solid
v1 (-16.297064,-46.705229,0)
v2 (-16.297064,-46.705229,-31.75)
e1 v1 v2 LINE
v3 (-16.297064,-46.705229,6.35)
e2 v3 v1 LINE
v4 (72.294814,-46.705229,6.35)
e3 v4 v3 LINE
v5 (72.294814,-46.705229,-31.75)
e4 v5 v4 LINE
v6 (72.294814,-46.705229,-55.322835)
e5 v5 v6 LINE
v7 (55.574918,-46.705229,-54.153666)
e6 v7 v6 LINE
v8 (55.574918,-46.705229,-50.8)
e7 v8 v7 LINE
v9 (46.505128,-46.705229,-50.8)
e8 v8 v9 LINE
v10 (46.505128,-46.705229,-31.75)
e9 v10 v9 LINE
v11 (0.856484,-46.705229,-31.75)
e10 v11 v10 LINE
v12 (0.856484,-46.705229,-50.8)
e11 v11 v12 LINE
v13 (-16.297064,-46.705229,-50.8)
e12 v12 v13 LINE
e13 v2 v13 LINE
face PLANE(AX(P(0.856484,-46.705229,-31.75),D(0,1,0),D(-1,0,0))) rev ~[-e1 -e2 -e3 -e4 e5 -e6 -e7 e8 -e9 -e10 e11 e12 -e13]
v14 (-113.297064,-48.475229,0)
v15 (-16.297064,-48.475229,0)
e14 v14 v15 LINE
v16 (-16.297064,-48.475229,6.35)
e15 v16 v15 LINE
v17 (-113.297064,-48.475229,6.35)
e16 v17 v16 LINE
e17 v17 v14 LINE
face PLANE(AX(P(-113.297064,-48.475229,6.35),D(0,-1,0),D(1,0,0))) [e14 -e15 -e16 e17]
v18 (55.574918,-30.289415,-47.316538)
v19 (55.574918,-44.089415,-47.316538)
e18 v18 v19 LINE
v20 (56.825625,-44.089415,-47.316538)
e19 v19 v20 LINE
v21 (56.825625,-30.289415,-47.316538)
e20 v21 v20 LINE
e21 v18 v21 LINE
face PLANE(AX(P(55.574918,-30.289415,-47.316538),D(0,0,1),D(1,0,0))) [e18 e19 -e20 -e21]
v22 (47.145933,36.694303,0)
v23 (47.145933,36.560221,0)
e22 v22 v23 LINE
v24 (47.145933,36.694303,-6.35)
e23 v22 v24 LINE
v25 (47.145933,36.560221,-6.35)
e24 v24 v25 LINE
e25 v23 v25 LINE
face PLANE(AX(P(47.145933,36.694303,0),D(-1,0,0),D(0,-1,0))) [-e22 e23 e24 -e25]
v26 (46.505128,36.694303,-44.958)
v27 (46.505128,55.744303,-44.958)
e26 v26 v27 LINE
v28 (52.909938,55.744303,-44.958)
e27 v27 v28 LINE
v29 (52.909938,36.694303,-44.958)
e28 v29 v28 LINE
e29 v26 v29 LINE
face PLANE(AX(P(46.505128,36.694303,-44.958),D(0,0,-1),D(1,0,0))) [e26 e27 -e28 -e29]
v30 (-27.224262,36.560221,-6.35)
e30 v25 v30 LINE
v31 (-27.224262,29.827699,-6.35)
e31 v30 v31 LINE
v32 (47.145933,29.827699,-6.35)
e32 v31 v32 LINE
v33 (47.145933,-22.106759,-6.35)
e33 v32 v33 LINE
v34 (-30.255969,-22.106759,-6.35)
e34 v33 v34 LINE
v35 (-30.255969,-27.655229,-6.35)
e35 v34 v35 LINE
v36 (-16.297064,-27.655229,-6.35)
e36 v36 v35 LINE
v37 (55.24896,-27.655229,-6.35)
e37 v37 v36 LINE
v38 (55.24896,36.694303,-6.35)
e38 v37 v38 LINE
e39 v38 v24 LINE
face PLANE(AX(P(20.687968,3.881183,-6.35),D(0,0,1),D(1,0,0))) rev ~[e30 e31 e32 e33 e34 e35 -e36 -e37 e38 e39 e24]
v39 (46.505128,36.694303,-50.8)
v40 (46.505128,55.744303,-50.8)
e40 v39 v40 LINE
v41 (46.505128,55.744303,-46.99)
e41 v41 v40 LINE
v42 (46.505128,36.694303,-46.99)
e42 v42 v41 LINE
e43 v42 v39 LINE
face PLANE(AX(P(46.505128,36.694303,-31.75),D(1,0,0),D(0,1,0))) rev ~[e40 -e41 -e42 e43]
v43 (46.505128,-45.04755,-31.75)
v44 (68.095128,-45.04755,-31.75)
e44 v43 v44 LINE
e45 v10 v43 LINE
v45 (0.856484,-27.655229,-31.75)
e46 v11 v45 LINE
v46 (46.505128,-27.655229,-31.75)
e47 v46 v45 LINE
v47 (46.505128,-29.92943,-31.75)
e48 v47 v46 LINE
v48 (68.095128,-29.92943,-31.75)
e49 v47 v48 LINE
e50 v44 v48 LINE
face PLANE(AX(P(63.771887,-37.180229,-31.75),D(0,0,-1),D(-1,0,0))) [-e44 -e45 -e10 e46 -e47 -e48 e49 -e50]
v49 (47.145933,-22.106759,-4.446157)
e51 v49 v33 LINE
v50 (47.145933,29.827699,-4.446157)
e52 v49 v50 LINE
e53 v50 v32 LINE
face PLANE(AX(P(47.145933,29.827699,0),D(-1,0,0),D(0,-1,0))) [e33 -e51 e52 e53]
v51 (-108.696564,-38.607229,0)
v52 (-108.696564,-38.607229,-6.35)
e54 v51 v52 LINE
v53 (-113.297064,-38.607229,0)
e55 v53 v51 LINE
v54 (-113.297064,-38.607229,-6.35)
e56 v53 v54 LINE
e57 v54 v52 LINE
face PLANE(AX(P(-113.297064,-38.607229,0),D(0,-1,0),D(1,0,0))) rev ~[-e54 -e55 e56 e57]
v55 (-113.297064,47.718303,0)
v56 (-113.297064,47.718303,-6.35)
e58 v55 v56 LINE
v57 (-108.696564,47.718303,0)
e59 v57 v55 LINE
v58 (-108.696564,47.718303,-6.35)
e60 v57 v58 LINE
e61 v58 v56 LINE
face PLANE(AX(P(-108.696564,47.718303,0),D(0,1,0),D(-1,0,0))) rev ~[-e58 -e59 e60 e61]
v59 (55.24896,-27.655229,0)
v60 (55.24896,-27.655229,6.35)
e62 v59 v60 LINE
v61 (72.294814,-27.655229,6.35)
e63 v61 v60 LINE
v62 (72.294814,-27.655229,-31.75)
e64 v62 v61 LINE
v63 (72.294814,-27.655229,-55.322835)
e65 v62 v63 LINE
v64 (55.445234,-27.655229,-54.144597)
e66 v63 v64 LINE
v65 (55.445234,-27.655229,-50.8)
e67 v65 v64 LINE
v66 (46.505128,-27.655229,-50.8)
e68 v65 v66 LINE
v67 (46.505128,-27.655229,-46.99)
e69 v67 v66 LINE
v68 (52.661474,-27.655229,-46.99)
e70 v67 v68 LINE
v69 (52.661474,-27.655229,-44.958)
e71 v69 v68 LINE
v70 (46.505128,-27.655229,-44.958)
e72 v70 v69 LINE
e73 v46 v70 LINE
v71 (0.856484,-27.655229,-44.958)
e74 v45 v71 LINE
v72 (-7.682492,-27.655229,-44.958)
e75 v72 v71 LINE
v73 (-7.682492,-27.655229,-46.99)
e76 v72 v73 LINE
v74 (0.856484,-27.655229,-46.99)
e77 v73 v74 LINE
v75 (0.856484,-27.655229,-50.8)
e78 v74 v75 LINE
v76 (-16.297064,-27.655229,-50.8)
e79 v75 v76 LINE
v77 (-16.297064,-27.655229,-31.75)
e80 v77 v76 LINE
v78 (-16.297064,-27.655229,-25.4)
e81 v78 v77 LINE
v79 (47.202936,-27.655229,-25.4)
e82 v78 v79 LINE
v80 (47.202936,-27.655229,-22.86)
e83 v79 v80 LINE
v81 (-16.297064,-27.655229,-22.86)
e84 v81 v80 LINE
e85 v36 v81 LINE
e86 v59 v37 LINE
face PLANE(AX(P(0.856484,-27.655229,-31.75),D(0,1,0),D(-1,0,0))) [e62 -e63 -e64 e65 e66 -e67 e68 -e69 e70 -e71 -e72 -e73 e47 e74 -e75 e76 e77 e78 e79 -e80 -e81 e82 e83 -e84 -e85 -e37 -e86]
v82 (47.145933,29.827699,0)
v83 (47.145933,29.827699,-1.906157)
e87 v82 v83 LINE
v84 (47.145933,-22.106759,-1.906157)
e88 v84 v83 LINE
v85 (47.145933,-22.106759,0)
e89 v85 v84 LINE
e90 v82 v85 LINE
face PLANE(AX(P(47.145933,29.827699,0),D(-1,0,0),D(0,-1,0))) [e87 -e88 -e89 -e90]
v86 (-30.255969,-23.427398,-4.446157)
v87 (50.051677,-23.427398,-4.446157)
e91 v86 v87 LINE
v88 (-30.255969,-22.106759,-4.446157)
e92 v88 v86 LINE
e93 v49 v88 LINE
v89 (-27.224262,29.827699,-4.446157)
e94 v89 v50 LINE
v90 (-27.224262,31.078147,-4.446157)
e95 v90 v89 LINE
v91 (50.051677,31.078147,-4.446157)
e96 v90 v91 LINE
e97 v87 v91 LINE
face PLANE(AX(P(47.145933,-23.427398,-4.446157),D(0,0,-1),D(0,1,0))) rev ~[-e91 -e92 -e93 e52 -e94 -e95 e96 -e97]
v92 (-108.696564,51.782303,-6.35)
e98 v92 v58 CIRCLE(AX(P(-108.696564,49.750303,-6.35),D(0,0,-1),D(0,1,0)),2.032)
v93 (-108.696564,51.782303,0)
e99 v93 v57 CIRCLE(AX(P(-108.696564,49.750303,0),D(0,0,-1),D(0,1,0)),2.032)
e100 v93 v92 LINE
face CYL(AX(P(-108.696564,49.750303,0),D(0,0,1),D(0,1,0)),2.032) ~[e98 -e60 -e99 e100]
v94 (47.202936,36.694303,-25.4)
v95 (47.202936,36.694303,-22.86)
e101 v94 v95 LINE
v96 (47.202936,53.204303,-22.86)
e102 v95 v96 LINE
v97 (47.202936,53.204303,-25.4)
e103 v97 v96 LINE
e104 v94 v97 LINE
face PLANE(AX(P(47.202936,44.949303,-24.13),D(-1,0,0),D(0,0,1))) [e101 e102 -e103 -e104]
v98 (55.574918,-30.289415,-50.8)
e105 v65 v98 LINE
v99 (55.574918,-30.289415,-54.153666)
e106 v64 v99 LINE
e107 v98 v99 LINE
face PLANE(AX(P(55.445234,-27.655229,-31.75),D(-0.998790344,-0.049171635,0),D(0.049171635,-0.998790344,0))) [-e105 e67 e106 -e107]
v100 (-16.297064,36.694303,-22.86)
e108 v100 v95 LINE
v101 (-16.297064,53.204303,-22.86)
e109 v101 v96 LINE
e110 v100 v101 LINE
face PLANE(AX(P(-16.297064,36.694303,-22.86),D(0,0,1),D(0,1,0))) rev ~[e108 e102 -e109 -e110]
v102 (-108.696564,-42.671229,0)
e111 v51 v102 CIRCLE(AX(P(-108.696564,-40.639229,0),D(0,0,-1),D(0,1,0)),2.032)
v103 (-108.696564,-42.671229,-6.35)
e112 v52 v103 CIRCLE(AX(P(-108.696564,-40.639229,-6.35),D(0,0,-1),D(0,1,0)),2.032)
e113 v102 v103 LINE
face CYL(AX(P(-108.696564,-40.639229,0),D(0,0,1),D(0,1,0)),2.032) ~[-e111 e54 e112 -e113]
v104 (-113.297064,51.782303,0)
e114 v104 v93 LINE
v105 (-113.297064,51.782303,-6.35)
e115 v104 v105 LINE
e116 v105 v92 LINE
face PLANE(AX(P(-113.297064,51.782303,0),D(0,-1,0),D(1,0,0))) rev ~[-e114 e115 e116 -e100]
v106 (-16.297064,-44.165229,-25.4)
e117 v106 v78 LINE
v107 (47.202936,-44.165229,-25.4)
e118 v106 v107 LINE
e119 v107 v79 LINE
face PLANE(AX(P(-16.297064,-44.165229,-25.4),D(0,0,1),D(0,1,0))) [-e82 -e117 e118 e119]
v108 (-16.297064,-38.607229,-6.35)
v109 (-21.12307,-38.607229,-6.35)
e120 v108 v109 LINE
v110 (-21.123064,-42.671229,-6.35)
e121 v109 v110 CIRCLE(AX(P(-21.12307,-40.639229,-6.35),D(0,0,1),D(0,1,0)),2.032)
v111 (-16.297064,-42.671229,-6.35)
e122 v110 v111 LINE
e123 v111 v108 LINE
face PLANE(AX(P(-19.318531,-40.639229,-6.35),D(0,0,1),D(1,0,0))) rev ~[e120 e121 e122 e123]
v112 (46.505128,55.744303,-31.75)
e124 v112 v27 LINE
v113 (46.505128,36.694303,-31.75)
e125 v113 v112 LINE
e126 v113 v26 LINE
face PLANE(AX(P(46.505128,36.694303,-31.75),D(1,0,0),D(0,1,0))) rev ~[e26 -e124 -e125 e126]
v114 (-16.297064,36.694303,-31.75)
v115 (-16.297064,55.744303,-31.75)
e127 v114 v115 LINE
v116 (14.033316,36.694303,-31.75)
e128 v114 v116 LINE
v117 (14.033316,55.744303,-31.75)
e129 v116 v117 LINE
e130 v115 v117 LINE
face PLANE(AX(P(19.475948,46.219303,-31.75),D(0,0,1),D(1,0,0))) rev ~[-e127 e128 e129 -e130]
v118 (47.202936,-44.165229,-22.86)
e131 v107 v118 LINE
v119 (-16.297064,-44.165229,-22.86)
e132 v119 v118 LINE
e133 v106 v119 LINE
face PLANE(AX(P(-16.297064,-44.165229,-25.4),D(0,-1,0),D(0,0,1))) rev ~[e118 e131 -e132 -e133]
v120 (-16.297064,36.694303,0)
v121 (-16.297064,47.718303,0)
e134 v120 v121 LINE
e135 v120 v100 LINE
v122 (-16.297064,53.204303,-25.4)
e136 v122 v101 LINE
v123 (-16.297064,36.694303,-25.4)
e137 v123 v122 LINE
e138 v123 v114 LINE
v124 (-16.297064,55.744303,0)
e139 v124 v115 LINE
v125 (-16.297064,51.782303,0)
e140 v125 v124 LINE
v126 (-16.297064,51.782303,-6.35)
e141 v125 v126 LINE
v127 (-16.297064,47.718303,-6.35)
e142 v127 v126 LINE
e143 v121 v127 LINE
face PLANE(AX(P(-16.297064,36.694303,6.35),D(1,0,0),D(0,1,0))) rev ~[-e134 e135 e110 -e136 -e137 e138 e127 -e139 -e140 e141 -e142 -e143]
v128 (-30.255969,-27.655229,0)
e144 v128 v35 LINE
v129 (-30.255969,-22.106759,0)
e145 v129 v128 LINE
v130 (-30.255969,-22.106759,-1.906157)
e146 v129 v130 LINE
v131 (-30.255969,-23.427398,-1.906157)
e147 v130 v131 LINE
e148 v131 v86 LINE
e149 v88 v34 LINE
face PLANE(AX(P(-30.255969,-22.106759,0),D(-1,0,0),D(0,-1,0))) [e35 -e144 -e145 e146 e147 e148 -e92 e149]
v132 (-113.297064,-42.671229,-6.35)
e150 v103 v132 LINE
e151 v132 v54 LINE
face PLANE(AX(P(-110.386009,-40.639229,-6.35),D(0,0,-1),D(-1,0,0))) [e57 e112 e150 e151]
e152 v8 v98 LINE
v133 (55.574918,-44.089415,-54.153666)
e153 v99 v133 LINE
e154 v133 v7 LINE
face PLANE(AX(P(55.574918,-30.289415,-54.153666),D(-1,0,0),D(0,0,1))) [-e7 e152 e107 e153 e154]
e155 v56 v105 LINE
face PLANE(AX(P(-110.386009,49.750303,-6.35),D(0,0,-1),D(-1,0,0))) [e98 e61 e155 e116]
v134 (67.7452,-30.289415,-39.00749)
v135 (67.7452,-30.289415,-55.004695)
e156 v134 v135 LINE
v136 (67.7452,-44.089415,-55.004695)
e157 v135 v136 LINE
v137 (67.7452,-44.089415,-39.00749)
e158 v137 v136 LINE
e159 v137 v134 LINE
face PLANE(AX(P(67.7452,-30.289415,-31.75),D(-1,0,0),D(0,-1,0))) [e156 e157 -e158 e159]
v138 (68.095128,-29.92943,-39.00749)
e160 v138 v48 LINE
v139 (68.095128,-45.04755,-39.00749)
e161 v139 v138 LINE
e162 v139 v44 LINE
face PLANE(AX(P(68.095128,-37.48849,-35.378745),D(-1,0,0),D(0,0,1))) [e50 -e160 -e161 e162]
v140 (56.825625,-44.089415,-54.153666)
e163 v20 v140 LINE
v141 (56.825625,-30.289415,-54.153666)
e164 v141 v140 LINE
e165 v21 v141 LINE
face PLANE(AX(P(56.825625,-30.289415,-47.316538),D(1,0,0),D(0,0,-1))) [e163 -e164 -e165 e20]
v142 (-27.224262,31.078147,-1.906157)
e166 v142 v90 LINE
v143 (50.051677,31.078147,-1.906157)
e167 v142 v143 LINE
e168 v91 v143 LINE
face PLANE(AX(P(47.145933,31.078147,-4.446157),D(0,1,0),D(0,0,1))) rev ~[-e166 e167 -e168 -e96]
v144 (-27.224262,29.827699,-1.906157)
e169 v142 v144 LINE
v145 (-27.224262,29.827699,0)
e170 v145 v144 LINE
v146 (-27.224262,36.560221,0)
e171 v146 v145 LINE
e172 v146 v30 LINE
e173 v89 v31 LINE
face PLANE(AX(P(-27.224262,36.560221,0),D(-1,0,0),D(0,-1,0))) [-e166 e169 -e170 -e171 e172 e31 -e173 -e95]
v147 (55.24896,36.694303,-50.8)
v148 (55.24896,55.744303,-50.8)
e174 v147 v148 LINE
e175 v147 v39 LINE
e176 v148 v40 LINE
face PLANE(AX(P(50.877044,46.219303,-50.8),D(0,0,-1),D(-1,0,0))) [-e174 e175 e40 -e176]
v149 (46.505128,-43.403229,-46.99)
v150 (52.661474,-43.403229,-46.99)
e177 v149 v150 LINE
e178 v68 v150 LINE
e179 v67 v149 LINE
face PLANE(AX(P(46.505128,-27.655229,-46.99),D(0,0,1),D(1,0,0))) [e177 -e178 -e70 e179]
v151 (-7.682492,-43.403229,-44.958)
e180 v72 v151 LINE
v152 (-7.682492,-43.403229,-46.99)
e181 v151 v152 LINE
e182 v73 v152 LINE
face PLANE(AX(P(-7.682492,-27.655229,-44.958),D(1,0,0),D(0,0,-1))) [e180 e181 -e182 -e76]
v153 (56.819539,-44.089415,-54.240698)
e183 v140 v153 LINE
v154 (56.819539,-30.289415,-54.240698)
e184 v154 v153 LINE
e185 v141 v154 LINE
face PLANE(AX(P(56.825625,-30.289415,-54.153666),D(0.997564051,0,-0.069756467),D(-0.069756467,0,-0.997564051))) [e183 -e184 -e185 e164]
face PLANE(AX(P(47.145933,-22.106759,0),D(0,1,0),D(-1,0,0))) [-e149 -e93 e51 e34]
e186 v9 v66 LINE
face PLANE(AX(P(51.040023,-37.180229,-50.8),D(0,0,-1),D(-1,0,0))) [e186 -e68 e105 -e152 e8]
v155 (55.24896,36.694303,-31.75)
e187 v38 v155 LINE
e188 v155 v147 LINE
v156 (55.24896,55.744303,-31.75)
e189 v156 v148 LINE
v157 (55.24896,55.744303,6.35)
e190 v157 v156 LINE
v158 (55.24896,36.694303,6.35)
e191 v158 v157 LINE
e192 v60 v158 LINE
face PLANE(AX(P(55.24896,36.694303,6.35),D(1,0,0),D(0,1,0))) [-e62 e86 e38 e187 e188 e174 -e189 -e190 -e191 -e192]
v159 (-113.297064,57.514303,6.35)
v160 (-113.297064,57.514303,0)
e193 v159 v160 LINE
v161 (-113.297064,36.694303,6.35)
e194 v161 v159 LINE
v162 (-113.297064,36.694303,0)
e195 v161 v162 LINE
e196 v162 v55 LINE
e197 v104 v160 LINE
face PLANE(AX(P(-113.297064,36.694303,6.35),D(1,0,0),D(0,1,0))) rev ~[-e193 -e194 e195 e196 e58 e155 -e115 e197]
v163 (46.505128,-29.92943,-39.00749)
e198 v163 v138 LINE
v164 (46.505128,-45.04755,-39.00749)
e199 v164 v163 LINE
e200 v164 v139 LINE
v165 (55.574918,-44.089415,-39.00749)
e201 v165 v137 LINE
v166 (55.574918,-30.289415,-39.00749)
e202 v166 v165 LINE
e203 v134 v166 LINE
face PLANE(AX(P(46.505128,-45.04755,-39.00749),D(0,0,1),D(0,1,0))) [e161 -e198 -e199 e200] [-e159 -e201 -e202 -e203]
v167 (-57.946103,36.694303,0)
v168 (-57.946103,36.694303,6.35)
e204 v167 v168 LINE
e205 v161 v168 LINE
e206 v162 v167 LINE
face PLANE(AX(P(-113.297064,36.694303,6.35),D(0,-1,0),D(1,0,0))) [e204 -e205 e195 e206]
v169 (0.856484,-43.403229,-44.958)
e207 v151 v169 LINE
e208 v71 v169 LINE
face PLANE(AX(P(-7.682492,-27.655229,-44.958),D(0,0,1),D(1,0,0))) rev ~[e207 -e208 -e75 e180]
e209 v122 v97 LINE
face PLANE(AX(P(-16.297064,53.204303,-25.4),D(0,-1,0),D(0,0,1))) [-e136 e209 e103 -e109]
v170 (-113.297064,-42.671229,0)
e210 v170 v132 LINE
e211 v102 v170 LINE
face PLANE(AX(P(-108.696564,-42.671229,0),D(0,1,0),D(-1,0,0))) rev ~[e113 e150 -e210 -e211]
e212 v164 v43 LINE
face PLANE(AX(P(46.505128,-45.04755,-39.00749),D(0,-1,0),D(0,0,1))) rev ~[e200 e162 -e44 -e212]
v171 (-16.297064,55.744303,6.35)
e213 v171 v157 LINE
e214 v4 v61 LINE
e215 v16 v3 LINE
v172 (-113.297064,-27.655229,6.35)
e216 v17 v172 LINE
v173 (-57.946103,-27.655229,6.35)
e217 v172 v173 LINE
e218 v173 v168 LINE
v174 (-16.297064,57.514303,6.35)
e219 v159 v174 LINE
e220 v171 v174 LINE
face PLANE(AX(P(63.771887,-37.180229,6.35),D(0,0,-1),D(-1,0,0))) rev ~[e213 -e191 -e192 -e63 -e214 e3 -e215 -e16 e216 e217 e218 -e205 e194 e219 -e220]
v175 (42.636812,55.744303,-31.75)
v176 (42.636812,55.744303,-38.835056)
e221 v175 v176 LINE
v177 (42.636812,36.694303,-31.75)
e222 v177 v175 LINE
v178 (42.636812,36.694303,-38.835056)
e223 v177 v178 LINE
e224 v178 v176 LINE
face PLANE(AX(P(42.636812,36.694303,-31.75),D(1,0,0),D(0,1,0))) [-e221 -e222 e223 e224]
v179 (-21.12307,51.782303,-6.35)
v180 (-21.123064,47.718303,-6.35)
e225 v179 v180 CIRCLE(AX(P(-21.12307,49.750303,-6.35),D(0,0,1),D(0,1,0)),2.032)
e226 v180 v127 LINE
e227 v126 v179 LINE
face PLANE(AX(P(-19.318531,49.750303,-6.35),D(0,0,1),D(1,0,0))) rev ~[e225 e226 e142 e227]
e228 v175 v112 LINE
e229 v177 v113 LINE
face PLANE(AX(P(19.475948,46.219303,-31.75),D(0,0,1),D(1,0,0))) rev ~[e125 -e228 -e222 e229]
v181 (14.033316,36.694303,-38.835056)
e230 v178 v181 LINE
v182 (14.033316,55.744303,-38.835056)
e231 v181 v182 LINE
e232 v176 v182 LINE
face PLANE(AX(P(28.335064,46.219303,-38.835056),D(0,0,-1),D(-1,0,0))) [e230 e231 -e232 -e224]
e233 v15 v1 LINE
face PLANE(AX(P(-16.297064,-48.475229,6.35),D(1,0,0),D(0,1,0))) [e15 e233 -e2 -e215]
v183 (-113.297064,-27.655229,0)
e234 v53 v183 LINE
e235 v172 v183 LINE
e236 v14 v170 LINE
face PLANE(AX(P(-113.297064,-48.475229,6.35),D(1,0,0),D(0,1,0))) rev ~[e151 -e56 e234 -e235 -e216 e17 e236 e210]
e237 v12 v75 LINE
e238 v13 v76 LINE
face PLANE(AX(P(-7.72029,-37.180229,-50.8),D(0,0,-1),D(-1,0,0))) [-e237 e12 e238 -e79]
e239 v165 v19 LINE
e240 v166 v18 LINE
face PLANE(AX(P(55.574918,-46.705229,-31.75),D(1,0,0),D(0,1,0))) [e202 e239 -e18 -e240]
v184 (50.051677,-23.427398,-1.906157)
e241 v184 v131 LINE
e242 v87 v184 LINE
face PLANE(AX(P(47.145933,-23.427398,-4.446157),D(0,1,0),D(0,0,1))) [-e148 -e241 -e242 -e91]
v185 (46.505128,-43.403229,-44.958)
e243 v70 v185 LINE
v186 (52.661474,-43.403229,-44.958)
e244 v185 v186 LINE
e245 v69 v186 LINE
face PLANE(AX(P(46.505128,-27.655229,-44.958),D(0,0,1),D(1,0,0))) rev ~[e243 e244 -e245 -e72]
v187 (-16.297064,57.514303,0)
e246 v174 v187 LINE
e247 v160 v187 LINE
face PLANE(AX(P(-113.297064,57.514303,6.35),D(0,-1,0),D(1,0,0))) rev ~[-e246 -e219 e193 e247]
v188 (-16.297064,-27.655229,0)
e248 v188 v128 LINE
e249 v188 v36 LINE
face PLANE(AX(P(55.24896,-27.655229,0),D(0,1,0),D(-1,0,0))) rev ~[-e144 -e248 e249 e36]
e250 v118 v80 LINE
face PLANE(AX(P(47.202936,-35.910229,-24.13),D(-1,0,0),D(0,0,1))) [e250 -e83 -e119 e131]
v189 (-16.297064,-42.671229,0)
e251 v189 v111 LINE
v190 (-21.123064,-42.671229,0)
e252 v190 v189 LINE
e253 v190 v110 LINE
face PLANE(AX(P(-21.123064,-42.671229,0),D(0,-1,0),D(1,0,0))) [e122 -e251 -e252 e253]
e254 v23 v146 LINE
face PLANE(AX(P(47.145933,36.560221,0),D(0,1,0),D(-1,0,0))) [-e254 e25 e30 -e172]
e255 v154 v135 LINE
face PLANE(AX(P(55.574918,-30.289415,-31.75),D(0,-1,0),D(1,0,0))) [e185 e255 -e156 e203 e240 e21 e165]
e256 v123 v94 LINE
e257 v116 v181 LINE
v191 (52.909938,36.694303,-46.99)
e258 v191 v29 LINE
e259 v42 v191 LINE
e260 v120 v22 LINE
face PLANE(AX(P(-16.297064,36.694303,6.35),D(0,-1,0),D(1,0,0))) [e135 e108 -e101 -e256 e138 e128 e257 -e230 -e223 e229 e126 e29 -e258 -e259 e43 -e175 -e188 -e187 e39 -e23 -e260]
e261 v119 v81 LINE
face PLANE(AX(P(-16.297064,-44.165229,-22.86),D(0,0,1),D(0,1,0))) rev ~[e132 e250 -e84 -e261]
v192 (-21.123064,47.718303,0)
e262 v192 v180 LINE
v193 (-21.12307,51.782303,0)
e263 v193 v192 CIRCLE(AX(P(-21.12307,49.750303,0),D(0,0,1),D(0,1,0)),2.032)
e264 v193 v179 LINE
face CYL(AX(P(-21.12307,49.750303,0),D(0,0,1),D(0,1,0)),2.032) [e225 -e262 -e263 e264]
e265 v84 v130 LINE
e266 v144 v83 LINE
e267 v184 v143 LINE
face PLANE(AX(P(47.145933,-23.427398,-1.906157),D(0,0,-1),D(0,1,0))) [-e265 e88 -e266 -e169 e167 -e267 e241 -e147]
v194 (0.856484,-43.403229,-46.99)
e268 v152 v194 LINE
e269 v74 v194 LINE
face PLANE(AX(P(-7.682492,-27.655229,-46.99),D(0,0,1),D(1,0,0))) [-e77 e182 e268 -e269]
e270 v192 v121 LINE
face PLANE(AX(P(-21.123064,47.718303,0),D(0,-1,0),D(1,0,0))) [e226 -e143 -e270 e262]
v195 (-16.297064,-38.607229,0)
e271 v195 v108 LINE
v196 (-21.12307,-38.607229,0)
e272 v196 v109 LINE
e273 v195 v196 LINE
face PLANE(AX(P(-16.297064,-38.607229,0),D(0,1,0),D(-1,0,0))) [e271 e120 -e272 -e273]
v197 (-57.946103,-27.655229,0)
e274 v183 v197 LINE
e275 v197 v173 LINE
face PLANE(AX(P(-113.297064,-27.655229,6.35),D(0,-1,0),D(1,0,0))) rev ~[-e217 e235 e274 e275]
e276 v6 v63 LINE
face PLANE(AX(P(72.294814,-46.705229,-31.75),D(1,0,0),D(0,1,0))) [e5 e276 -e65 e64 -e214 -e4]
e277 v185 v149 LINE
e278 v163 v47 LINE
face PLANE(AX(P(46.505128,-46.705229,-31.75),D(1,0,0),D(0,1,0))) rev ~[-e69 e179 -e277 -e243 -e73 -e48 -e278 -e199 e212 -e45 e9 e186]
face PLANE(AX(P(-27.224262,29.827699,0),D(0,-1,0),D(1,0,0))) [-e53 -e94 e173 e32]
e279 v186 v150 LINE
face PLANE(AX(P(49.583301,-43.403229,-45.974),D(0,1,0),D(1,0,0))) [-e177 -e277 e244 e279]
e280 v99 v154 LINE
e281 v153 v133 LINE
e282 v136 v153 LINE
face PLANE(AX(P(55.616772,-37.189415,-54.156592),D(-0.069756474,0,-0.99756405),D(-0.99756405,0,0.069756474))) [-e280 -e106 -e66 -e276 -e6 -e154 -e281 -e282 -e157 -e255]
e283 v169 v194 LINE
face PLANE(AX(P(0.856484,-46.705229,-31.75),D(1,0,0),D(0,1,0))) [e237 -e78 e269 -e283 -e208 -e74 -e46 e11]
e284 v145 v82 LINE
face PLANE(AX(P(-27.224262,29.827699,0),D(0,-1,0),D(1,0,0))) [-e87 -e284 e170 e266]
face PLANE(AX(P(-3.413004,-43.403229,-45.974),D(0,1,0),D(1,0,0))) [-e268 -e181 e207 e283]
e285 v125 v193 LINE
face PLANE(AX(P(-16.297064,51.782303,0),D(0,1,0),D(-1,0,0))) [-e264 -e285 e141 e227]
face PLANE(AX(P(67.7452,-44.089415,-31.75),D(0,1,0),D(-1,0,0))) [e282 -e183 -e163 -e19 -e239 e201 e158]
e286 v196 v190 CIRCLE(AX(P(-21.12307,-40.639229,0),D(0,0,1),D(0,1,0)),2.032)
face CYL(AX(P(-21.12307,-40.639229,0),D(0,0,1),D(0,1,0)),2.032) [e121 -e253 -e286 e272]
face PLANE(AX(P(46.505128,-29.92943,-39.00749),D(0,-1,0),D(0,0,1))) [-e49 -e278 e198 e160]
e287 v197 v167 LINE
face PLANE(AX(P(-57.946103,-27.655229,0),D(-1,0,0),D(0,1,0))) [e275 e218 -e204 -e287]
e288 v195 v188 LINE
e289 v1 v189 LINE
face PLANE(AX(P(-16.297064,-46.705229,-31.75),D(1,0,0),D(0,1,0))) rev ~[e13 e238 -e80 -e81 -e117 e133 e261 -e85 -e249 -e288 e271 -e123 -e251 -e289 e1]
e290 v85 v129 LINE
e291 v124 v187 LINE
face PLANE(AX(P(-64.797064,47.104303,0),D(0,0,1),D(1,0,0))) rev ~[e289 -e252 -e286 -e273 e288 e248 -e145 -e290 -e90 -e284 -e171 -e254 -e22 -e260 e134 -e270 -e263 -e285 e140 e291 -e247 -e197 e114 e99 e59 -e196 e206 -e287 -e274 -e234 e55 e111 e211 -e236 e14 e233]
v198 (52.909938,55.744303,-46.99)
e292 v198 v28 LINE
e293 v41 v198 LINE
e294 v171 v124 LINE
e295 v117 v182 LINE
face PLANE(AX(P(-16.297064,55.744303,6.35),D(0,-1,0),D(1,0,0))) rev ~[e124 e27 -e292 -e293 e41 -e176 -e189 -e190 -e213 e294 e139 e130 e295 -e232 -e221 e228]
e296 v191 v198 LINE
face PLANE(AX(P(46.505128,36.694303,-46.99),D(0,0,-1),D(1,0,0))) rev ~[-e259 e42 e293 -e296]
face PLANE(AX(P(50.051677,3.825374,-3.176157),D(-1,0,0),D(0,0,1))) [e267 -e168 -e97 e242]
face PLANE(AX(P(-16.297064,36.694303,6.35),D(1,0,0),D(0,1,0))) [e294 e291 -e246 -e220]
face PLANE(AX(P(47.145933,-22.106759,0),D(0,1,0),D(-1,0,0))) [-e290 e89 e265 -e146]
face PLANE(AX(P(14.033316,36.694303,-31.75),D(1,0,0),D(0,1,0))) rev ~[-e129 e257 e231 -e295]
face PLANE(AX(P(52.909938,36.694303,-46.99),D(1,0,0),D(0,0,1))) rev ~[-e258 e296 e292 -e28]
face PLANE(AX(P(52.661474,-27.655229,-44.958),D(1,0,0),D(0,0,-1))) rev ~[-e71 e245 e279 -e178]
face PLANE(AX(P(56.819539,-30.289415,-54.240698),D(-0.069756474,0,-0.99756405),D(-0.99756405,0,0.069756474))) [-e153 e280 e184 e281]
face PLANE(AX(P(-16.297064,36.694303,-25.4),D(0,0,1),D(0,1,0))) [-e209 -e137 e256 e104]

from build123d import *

# Parameters (mm, degrees)
SKETCH2_W               = 113.195063652
SKETCH2_H               = 64.34953214
BOSS_EXTRUDE1_DEPTH     = 6.35
SKETCH6_W               = 71.546023985
SKETCH6_H               = 19.05
BOSS_EXTRUDE4_DEPTH     = 38.1
SKETCH8_W               = 2.54
SKETCH8_H               = 16.51
CUT_EXTRUDE1_DEPTH      = 63.5
SKETCH11_W              = 97
SKETCH11_H              = 20.82
BOSS_EXTRUDE8_DEPTH     = 6.35
BOSS_EXTRUDE13_DEPTH    = 6.35
BOSS_EXTRUDE14_DEPTH    = 6.35
BOSS_EXTRUDE15_DEPTH    = 6.35
BOSS_EXTRUDE16_DEPTH    = 6.35
SKETCH20_W              = 17.045853961
SKETCH20_H              = 19.05
BOSS_EXTRUDE17_DEPTH    = 38.1
BOSS_EXTRUDE18_REACH    = 134.649
BOSS_EXTRUDE19_DEPTH    = 13.8
SKETCH23_W              = 17.153547373
SKETCH23_H              = 19.05
SKETCH23_W_2            = 8.74383249
SKETCH23_W_3            = 9.06979052
BOSS_EXTRUDE20_DEPTH    = 19.05
SKETCH24_W              = 8.538975884
SKETCH24_H              = 2.032
SKETCH24_W_2            = 6.156345993
CUT_EXTRUDE2_DEPTH      = 15.748
SKETCH25_W              = 6.404810212
SKETCH25_H              = 2.032
CUT_EXTRUDE3_DEPTH      = 153.153507472
SKETCH26_W              = 28.603496075
SKETCH26_H              = 19.05
BOSS_EXTRUDE21_DEPTH    = 7.085056153
BOSS_EXTRUDE22_DEPTH    = 6.35
SKETCH30_W              = 2.54
SKETCH30_H              = 54.505544918
CUT_EXTRUDE4_DEPTH      = 77.978
CUT_EXTRUDE4_DEPTH_BACK = 2.905744
SKETCH32_W              = 7.257489736
SKETCH32_H              = 15.118119189
CUT_EXTRUDE5_DEPTH      = 21.59


with BuildPart() as part:
    # Sketch2 → Boss-Extrude1 (new body)
    with BuildSketch(Plane.XY):
        with Locations((-1.348571368, 4.519536632)):
            Rectangle(SKETCH2_W, SKETCH2_H)
    extrude(amount=BOSS_EXTRUDE1_DEPTH)

    # Sketch6 → Boss-Extrude4 (add)
    with BuildSketch(Plane.XY.offset(6.35)):
        with Locations((19.475948466, 46.219302702)):
            Rectangle(SKETCH6_W, SKETCH6_H)
        with Locations((19.475948466, -37.180229438)):
            Rectangle(SKETCH6_W, SKETCH6_H)
    extrude(amount=-BOSS_EXTRUDE4_DEPTH)

    # Sketch8 → Cut-Extrude1 (cut)
    with BuildSketch(Plane.ZY.offset(16.297063527)):
        with Locations((-24.13, 44.949302702)):
            Rectangle(SKETCH8_W, SKETCH8_H)
        with Locations((-24.13, -35.910229438)):
            Rectangle(SKETCH8_W, SKETCH8_H)
    extrude(amount=-CUT_EXTRUDE1_DEPTH, mode=Mode.SUBTRACT)

    # Sketch11 → Boss-Extrude8 (add)
    with BuildSketch(Plane.XY.offset(6.35)):
        with Locations((-64.797063527, 47.104302702)):
            Rectangle(SKETCH11_W, SKETCH11_H)
        with Locations((-64.797063527, -38.065229438)):
            Rectangle(SKETCH11_W, SKETCH11_H)
    extrude(amount=-BOSS_EXTRUDE8_DEPTH)

    # Sketch16 → Boss-Extrude13 (add)
    with BuildSketch(Plane(origin=(0, 0, 0), x_dir=(-1, 0, 0), z_dir=(0, 0, -1))):
        with BuildLine():
            Line((16.297063527, 51.782302702), (21.12307027, 51.782302702))
            ThreePointArc((21.12307027, 51.782302702), (23.15507027, 49.75029933), (21.123063527, 47.718302702))
            Line((21.123063527, 47.718302702), (16.297063527, 47.718302702))
            Line((16.297063527, 47.718302702), (16.297063527, 51.782302702))
        make_face()
    extrude(amount=BOSS_EXTRUDE13_DEPTH)

    # Sketch17 → Boss-Extrude14 (add)
    with BuildSketch(Plane(origin=(0, 0, 0), x_dir=(-1, 0, 0), z_dir=(0, 0, -1))):
        with BuildLine():
            Line((16.297063527, -38.607229438), (21.12307027, -38.607229438))
            ThreePointArc((21.12307027, -38.607229438), (23.15507027, -40.63923281), (21.123063527, -42.671229438))
            Line((21.123063527, -42.671229438), (16.297063527, -42.671229438))
            Line((16.297063527, -42.671229438), (16.297063527, -38.607229438))
        make_face()
    extrude(amount=BOSS_EXTRUDE14_DEPTH)

    # Sketch18 → Boss-Extrude15 (add)
    with BuildSketch(Plane(origin=(0, 0, 0), x_dir=(-1, 0, 0), z_dir=(0, 0, -1))):
        with BuildLine():
            Line((113.297063527, 51.782302702), (108.696564152, 51.782302702))
            ThreePointArc((108.696564152, 51.782302702), (106.664564152, 49.750302702), (108.696564152, 47.718302702))
            Line((108.696564152, 47.718302702), (113.297063527, 47.718302702))
            Line((113.297063527, 47.718302702), (113.297063527, 51.782302702))
        make_face()
    extrude(amount=BOSS_EXTRUDE15_DEPTH)

    # Sketch19 → Boss-Extrude16 (add)
    with BuildSketch(Plane(origin=(0, 0, 0), x_dir=(-1, 0, 0), z_dir=(0, 0, -1))):
        with BuildLine():
            Line((113.297063527, -38.607229438), (108.696564152, -38.607229438))
            ThreePointArc((108.696564152, -38.607229438), (106.664564152, -40.639229438), (108.696564152, -42.671229438))
            Line((108.696564152, -42.671229438), (113.297063527, -42.671229438))
            Line((113.297063527, -42.671229438), (113.297063527, -38.607229438))
        make_face()
    extrude(amount=BOSS_EXTRUDE16_DEPTH)

    # Sketch20 → Boss-Extrude17 (add)
    with BuildSketch(Plane(origin=(0, 0, -31.75), x_dir=(-1, 0, 0), z_dir=(0, 0, -1))):
        with Locations((-63.771887439, -37.180229438)):
            Rectangle(SKETCH20_W, SKETCH20_H)
    extrude(amount=-BOSS_EXTRUDE17_DEPTH)

    # Boss-Extrude18: up to this plane
    boss_extrude18_end = Plane(origin=(55.616772372, -37.189415156, -54.156592283), z_dir=(-0.06975647374413249, 0, -0.9975640502598238))
    # Sketch21 → Boss-Extrude18 (add, up to the surface)
    with BuildSketch(Plane(origin=(0, 0, -31.75), x_dir=(-1, 0, 0), z_dir=(0, 0, -1)), mode=Mode.PRIVATE) as boss_extrude18_sk1:
        Polygon((-55.445234397, -27.655229438), (-55.574918488, -30.289415156), (-67.745199901, -30.289415156), (-67.745199901, -44.089415156), (-55.574918488, -44.089415156), (-55.574918488, -46.705229438), (-72.294814419, -46.705229438), (-72.294814419, -27.655229438), align=None)
    boss_extrude18_tool1 = split(extrude(boss_extrude18_sk1.sketch, amount=BOSS_EXTRUDE18_REACH, mode=Mode.PRIVATE), bisect_by=boss_extrude18_end, keep=Keep.BOTH, mode=Mode.PRIVATE)
    add(boss_extrude18_tool1.solids().sort_by_distance((55.764094, -28.959817, -31.75))[0])

    # Sketch22 → Boss-Extrude19 (add)
    with BuildSketch(Plane.XZ.offset(30.289415156)):
        Polygon((55.574918488, -47.316538406), (56.82562534, -47.316538406), (56.82562534, -54.153665574), (56.819539444, -54.24069795), (55.574918488, -54.153665574), align=None)
    extrude(amount=BOSS_EXTRUDE19_DEPTH)

    # Sketch23 → Boss-Extrude20 (add)
    with BuildSketch(Plane(origin=(0, 0, -31.75), x_dir=(-1, 0, 0), z_dir=(0, 0, -1))):
        with Locations((7.720289841, -37.180229438)):
            Rectangle(SKETCH23_W, SKETCH23_H)
        with Locations((-50.877044213, 46.219302702)):
            Rectangle(SKETCH23_W_2, SKETCH23_H)
        with Locations((-51.040023228, -37.180229438)):
            Rectangle(SKETCH23_W_3, SKETCH23_H)
    extrude(amount=BOSS_EXTRUDE20_DEPTH)

    # Sketch24 → Cut-Extrude2 (cut)
    with BuildSketch(Plane(origin=(0, -27.655229438, 0), x_dir=(1, 0, 0), z_dir=(0, 1, 0))):
        with Locations((-3.413004096, 45.974)):
            Rectangle(SKETCH24_W, SKETCH24_H)
        with Locations((49.583300965, 45.974)):
            Rectangle(SKETCH24_W_2, SKETCH24_H)
    extrude(amount=-CUT_EXTRUDE2_DEPTH, mode=Mode.SUBTRACT)

    # Sketch25 → Cut-Extrude3 (cut, through all)
    with BuildSketch(Plane.XZ.offset(-36.694302702)):
        with Locations((49.707533074, -45.974)):
            Rectangle(SKETCH25_W, SKETCH25_H)
    extrude(amount=-CUT_EXTRUDE3_DEPTH, mode=Mode.SUBTRACT)

    # Sketch26 → Boss-Extrude21 (add)
    with BuildSketch(Plane(origin=(0, 0, -31.75), x_dir=(-1, 0, 0), z_dir=(0, 0, -1))):
        with Locations((-28.33506354, 46.219302702)):
            Rectangle(SKETCH26_W, SKETCH26_H)
    extrude(amount=BOSS_EXTRUDE21_DEPTH)

    # Sketch27 → Boss-Extrude22 (add)
    with BuildSketch(Plane(origin=(0, 0, 0), x_dir=(-1, 0, 0), z_dir=(0, 0, -1))):
        Polygon((-55.248960458, 36.694302702), (-47.14593274, 36.694302702), (-47.14593274, 36.56022062), (27.224261785, 36.56022062), (27.224261785, 29.827699057), (-47.14593274, 29.827699057), (-47.14593274, -22.106759253), (30.255968743, -22.106759253), (30.255968743, -27.655229438), (-47.14593274, -27.655229438), (-55.248960458, -27.655229438), align=None)
    extrude(amount=BOSS_EXTRUDE22_DEPTH)

    # Sketch30 → Cut-Extrude4 (cut, two sides)
    with BuildSketch(Plane.ZY.offset(-47.14593274)) as cut_extrude4_sk:
        with Locations((-3.17615729, 3.825374341)):
            Rectangle(SKETCH30_W, SKETCH30_H)
    extrude(amount=CUT_EXTRUDE4_DEPTH, mode=Mode.SUBTRACT)
    extrude(cut_extrude4_sk.sketch, amount=-CUT_EXTRUDE4_DEPTH_BACK, mode=Mode.SUBTRACT)

    # Sketch32 → Cut-Extrude5 (cut)
    with BuildSketch(Plane.ZY.offset(-46.505127968)):
        with Locations((-35.378744868, -37.488489942)):
            Rectangle(SKETCH32_W, SKETCH32_H)
    extrude(amount=-CUT_EXTRUDE5_DEPTH, mode=Mode.SUBTRACT)


solid = part.part
